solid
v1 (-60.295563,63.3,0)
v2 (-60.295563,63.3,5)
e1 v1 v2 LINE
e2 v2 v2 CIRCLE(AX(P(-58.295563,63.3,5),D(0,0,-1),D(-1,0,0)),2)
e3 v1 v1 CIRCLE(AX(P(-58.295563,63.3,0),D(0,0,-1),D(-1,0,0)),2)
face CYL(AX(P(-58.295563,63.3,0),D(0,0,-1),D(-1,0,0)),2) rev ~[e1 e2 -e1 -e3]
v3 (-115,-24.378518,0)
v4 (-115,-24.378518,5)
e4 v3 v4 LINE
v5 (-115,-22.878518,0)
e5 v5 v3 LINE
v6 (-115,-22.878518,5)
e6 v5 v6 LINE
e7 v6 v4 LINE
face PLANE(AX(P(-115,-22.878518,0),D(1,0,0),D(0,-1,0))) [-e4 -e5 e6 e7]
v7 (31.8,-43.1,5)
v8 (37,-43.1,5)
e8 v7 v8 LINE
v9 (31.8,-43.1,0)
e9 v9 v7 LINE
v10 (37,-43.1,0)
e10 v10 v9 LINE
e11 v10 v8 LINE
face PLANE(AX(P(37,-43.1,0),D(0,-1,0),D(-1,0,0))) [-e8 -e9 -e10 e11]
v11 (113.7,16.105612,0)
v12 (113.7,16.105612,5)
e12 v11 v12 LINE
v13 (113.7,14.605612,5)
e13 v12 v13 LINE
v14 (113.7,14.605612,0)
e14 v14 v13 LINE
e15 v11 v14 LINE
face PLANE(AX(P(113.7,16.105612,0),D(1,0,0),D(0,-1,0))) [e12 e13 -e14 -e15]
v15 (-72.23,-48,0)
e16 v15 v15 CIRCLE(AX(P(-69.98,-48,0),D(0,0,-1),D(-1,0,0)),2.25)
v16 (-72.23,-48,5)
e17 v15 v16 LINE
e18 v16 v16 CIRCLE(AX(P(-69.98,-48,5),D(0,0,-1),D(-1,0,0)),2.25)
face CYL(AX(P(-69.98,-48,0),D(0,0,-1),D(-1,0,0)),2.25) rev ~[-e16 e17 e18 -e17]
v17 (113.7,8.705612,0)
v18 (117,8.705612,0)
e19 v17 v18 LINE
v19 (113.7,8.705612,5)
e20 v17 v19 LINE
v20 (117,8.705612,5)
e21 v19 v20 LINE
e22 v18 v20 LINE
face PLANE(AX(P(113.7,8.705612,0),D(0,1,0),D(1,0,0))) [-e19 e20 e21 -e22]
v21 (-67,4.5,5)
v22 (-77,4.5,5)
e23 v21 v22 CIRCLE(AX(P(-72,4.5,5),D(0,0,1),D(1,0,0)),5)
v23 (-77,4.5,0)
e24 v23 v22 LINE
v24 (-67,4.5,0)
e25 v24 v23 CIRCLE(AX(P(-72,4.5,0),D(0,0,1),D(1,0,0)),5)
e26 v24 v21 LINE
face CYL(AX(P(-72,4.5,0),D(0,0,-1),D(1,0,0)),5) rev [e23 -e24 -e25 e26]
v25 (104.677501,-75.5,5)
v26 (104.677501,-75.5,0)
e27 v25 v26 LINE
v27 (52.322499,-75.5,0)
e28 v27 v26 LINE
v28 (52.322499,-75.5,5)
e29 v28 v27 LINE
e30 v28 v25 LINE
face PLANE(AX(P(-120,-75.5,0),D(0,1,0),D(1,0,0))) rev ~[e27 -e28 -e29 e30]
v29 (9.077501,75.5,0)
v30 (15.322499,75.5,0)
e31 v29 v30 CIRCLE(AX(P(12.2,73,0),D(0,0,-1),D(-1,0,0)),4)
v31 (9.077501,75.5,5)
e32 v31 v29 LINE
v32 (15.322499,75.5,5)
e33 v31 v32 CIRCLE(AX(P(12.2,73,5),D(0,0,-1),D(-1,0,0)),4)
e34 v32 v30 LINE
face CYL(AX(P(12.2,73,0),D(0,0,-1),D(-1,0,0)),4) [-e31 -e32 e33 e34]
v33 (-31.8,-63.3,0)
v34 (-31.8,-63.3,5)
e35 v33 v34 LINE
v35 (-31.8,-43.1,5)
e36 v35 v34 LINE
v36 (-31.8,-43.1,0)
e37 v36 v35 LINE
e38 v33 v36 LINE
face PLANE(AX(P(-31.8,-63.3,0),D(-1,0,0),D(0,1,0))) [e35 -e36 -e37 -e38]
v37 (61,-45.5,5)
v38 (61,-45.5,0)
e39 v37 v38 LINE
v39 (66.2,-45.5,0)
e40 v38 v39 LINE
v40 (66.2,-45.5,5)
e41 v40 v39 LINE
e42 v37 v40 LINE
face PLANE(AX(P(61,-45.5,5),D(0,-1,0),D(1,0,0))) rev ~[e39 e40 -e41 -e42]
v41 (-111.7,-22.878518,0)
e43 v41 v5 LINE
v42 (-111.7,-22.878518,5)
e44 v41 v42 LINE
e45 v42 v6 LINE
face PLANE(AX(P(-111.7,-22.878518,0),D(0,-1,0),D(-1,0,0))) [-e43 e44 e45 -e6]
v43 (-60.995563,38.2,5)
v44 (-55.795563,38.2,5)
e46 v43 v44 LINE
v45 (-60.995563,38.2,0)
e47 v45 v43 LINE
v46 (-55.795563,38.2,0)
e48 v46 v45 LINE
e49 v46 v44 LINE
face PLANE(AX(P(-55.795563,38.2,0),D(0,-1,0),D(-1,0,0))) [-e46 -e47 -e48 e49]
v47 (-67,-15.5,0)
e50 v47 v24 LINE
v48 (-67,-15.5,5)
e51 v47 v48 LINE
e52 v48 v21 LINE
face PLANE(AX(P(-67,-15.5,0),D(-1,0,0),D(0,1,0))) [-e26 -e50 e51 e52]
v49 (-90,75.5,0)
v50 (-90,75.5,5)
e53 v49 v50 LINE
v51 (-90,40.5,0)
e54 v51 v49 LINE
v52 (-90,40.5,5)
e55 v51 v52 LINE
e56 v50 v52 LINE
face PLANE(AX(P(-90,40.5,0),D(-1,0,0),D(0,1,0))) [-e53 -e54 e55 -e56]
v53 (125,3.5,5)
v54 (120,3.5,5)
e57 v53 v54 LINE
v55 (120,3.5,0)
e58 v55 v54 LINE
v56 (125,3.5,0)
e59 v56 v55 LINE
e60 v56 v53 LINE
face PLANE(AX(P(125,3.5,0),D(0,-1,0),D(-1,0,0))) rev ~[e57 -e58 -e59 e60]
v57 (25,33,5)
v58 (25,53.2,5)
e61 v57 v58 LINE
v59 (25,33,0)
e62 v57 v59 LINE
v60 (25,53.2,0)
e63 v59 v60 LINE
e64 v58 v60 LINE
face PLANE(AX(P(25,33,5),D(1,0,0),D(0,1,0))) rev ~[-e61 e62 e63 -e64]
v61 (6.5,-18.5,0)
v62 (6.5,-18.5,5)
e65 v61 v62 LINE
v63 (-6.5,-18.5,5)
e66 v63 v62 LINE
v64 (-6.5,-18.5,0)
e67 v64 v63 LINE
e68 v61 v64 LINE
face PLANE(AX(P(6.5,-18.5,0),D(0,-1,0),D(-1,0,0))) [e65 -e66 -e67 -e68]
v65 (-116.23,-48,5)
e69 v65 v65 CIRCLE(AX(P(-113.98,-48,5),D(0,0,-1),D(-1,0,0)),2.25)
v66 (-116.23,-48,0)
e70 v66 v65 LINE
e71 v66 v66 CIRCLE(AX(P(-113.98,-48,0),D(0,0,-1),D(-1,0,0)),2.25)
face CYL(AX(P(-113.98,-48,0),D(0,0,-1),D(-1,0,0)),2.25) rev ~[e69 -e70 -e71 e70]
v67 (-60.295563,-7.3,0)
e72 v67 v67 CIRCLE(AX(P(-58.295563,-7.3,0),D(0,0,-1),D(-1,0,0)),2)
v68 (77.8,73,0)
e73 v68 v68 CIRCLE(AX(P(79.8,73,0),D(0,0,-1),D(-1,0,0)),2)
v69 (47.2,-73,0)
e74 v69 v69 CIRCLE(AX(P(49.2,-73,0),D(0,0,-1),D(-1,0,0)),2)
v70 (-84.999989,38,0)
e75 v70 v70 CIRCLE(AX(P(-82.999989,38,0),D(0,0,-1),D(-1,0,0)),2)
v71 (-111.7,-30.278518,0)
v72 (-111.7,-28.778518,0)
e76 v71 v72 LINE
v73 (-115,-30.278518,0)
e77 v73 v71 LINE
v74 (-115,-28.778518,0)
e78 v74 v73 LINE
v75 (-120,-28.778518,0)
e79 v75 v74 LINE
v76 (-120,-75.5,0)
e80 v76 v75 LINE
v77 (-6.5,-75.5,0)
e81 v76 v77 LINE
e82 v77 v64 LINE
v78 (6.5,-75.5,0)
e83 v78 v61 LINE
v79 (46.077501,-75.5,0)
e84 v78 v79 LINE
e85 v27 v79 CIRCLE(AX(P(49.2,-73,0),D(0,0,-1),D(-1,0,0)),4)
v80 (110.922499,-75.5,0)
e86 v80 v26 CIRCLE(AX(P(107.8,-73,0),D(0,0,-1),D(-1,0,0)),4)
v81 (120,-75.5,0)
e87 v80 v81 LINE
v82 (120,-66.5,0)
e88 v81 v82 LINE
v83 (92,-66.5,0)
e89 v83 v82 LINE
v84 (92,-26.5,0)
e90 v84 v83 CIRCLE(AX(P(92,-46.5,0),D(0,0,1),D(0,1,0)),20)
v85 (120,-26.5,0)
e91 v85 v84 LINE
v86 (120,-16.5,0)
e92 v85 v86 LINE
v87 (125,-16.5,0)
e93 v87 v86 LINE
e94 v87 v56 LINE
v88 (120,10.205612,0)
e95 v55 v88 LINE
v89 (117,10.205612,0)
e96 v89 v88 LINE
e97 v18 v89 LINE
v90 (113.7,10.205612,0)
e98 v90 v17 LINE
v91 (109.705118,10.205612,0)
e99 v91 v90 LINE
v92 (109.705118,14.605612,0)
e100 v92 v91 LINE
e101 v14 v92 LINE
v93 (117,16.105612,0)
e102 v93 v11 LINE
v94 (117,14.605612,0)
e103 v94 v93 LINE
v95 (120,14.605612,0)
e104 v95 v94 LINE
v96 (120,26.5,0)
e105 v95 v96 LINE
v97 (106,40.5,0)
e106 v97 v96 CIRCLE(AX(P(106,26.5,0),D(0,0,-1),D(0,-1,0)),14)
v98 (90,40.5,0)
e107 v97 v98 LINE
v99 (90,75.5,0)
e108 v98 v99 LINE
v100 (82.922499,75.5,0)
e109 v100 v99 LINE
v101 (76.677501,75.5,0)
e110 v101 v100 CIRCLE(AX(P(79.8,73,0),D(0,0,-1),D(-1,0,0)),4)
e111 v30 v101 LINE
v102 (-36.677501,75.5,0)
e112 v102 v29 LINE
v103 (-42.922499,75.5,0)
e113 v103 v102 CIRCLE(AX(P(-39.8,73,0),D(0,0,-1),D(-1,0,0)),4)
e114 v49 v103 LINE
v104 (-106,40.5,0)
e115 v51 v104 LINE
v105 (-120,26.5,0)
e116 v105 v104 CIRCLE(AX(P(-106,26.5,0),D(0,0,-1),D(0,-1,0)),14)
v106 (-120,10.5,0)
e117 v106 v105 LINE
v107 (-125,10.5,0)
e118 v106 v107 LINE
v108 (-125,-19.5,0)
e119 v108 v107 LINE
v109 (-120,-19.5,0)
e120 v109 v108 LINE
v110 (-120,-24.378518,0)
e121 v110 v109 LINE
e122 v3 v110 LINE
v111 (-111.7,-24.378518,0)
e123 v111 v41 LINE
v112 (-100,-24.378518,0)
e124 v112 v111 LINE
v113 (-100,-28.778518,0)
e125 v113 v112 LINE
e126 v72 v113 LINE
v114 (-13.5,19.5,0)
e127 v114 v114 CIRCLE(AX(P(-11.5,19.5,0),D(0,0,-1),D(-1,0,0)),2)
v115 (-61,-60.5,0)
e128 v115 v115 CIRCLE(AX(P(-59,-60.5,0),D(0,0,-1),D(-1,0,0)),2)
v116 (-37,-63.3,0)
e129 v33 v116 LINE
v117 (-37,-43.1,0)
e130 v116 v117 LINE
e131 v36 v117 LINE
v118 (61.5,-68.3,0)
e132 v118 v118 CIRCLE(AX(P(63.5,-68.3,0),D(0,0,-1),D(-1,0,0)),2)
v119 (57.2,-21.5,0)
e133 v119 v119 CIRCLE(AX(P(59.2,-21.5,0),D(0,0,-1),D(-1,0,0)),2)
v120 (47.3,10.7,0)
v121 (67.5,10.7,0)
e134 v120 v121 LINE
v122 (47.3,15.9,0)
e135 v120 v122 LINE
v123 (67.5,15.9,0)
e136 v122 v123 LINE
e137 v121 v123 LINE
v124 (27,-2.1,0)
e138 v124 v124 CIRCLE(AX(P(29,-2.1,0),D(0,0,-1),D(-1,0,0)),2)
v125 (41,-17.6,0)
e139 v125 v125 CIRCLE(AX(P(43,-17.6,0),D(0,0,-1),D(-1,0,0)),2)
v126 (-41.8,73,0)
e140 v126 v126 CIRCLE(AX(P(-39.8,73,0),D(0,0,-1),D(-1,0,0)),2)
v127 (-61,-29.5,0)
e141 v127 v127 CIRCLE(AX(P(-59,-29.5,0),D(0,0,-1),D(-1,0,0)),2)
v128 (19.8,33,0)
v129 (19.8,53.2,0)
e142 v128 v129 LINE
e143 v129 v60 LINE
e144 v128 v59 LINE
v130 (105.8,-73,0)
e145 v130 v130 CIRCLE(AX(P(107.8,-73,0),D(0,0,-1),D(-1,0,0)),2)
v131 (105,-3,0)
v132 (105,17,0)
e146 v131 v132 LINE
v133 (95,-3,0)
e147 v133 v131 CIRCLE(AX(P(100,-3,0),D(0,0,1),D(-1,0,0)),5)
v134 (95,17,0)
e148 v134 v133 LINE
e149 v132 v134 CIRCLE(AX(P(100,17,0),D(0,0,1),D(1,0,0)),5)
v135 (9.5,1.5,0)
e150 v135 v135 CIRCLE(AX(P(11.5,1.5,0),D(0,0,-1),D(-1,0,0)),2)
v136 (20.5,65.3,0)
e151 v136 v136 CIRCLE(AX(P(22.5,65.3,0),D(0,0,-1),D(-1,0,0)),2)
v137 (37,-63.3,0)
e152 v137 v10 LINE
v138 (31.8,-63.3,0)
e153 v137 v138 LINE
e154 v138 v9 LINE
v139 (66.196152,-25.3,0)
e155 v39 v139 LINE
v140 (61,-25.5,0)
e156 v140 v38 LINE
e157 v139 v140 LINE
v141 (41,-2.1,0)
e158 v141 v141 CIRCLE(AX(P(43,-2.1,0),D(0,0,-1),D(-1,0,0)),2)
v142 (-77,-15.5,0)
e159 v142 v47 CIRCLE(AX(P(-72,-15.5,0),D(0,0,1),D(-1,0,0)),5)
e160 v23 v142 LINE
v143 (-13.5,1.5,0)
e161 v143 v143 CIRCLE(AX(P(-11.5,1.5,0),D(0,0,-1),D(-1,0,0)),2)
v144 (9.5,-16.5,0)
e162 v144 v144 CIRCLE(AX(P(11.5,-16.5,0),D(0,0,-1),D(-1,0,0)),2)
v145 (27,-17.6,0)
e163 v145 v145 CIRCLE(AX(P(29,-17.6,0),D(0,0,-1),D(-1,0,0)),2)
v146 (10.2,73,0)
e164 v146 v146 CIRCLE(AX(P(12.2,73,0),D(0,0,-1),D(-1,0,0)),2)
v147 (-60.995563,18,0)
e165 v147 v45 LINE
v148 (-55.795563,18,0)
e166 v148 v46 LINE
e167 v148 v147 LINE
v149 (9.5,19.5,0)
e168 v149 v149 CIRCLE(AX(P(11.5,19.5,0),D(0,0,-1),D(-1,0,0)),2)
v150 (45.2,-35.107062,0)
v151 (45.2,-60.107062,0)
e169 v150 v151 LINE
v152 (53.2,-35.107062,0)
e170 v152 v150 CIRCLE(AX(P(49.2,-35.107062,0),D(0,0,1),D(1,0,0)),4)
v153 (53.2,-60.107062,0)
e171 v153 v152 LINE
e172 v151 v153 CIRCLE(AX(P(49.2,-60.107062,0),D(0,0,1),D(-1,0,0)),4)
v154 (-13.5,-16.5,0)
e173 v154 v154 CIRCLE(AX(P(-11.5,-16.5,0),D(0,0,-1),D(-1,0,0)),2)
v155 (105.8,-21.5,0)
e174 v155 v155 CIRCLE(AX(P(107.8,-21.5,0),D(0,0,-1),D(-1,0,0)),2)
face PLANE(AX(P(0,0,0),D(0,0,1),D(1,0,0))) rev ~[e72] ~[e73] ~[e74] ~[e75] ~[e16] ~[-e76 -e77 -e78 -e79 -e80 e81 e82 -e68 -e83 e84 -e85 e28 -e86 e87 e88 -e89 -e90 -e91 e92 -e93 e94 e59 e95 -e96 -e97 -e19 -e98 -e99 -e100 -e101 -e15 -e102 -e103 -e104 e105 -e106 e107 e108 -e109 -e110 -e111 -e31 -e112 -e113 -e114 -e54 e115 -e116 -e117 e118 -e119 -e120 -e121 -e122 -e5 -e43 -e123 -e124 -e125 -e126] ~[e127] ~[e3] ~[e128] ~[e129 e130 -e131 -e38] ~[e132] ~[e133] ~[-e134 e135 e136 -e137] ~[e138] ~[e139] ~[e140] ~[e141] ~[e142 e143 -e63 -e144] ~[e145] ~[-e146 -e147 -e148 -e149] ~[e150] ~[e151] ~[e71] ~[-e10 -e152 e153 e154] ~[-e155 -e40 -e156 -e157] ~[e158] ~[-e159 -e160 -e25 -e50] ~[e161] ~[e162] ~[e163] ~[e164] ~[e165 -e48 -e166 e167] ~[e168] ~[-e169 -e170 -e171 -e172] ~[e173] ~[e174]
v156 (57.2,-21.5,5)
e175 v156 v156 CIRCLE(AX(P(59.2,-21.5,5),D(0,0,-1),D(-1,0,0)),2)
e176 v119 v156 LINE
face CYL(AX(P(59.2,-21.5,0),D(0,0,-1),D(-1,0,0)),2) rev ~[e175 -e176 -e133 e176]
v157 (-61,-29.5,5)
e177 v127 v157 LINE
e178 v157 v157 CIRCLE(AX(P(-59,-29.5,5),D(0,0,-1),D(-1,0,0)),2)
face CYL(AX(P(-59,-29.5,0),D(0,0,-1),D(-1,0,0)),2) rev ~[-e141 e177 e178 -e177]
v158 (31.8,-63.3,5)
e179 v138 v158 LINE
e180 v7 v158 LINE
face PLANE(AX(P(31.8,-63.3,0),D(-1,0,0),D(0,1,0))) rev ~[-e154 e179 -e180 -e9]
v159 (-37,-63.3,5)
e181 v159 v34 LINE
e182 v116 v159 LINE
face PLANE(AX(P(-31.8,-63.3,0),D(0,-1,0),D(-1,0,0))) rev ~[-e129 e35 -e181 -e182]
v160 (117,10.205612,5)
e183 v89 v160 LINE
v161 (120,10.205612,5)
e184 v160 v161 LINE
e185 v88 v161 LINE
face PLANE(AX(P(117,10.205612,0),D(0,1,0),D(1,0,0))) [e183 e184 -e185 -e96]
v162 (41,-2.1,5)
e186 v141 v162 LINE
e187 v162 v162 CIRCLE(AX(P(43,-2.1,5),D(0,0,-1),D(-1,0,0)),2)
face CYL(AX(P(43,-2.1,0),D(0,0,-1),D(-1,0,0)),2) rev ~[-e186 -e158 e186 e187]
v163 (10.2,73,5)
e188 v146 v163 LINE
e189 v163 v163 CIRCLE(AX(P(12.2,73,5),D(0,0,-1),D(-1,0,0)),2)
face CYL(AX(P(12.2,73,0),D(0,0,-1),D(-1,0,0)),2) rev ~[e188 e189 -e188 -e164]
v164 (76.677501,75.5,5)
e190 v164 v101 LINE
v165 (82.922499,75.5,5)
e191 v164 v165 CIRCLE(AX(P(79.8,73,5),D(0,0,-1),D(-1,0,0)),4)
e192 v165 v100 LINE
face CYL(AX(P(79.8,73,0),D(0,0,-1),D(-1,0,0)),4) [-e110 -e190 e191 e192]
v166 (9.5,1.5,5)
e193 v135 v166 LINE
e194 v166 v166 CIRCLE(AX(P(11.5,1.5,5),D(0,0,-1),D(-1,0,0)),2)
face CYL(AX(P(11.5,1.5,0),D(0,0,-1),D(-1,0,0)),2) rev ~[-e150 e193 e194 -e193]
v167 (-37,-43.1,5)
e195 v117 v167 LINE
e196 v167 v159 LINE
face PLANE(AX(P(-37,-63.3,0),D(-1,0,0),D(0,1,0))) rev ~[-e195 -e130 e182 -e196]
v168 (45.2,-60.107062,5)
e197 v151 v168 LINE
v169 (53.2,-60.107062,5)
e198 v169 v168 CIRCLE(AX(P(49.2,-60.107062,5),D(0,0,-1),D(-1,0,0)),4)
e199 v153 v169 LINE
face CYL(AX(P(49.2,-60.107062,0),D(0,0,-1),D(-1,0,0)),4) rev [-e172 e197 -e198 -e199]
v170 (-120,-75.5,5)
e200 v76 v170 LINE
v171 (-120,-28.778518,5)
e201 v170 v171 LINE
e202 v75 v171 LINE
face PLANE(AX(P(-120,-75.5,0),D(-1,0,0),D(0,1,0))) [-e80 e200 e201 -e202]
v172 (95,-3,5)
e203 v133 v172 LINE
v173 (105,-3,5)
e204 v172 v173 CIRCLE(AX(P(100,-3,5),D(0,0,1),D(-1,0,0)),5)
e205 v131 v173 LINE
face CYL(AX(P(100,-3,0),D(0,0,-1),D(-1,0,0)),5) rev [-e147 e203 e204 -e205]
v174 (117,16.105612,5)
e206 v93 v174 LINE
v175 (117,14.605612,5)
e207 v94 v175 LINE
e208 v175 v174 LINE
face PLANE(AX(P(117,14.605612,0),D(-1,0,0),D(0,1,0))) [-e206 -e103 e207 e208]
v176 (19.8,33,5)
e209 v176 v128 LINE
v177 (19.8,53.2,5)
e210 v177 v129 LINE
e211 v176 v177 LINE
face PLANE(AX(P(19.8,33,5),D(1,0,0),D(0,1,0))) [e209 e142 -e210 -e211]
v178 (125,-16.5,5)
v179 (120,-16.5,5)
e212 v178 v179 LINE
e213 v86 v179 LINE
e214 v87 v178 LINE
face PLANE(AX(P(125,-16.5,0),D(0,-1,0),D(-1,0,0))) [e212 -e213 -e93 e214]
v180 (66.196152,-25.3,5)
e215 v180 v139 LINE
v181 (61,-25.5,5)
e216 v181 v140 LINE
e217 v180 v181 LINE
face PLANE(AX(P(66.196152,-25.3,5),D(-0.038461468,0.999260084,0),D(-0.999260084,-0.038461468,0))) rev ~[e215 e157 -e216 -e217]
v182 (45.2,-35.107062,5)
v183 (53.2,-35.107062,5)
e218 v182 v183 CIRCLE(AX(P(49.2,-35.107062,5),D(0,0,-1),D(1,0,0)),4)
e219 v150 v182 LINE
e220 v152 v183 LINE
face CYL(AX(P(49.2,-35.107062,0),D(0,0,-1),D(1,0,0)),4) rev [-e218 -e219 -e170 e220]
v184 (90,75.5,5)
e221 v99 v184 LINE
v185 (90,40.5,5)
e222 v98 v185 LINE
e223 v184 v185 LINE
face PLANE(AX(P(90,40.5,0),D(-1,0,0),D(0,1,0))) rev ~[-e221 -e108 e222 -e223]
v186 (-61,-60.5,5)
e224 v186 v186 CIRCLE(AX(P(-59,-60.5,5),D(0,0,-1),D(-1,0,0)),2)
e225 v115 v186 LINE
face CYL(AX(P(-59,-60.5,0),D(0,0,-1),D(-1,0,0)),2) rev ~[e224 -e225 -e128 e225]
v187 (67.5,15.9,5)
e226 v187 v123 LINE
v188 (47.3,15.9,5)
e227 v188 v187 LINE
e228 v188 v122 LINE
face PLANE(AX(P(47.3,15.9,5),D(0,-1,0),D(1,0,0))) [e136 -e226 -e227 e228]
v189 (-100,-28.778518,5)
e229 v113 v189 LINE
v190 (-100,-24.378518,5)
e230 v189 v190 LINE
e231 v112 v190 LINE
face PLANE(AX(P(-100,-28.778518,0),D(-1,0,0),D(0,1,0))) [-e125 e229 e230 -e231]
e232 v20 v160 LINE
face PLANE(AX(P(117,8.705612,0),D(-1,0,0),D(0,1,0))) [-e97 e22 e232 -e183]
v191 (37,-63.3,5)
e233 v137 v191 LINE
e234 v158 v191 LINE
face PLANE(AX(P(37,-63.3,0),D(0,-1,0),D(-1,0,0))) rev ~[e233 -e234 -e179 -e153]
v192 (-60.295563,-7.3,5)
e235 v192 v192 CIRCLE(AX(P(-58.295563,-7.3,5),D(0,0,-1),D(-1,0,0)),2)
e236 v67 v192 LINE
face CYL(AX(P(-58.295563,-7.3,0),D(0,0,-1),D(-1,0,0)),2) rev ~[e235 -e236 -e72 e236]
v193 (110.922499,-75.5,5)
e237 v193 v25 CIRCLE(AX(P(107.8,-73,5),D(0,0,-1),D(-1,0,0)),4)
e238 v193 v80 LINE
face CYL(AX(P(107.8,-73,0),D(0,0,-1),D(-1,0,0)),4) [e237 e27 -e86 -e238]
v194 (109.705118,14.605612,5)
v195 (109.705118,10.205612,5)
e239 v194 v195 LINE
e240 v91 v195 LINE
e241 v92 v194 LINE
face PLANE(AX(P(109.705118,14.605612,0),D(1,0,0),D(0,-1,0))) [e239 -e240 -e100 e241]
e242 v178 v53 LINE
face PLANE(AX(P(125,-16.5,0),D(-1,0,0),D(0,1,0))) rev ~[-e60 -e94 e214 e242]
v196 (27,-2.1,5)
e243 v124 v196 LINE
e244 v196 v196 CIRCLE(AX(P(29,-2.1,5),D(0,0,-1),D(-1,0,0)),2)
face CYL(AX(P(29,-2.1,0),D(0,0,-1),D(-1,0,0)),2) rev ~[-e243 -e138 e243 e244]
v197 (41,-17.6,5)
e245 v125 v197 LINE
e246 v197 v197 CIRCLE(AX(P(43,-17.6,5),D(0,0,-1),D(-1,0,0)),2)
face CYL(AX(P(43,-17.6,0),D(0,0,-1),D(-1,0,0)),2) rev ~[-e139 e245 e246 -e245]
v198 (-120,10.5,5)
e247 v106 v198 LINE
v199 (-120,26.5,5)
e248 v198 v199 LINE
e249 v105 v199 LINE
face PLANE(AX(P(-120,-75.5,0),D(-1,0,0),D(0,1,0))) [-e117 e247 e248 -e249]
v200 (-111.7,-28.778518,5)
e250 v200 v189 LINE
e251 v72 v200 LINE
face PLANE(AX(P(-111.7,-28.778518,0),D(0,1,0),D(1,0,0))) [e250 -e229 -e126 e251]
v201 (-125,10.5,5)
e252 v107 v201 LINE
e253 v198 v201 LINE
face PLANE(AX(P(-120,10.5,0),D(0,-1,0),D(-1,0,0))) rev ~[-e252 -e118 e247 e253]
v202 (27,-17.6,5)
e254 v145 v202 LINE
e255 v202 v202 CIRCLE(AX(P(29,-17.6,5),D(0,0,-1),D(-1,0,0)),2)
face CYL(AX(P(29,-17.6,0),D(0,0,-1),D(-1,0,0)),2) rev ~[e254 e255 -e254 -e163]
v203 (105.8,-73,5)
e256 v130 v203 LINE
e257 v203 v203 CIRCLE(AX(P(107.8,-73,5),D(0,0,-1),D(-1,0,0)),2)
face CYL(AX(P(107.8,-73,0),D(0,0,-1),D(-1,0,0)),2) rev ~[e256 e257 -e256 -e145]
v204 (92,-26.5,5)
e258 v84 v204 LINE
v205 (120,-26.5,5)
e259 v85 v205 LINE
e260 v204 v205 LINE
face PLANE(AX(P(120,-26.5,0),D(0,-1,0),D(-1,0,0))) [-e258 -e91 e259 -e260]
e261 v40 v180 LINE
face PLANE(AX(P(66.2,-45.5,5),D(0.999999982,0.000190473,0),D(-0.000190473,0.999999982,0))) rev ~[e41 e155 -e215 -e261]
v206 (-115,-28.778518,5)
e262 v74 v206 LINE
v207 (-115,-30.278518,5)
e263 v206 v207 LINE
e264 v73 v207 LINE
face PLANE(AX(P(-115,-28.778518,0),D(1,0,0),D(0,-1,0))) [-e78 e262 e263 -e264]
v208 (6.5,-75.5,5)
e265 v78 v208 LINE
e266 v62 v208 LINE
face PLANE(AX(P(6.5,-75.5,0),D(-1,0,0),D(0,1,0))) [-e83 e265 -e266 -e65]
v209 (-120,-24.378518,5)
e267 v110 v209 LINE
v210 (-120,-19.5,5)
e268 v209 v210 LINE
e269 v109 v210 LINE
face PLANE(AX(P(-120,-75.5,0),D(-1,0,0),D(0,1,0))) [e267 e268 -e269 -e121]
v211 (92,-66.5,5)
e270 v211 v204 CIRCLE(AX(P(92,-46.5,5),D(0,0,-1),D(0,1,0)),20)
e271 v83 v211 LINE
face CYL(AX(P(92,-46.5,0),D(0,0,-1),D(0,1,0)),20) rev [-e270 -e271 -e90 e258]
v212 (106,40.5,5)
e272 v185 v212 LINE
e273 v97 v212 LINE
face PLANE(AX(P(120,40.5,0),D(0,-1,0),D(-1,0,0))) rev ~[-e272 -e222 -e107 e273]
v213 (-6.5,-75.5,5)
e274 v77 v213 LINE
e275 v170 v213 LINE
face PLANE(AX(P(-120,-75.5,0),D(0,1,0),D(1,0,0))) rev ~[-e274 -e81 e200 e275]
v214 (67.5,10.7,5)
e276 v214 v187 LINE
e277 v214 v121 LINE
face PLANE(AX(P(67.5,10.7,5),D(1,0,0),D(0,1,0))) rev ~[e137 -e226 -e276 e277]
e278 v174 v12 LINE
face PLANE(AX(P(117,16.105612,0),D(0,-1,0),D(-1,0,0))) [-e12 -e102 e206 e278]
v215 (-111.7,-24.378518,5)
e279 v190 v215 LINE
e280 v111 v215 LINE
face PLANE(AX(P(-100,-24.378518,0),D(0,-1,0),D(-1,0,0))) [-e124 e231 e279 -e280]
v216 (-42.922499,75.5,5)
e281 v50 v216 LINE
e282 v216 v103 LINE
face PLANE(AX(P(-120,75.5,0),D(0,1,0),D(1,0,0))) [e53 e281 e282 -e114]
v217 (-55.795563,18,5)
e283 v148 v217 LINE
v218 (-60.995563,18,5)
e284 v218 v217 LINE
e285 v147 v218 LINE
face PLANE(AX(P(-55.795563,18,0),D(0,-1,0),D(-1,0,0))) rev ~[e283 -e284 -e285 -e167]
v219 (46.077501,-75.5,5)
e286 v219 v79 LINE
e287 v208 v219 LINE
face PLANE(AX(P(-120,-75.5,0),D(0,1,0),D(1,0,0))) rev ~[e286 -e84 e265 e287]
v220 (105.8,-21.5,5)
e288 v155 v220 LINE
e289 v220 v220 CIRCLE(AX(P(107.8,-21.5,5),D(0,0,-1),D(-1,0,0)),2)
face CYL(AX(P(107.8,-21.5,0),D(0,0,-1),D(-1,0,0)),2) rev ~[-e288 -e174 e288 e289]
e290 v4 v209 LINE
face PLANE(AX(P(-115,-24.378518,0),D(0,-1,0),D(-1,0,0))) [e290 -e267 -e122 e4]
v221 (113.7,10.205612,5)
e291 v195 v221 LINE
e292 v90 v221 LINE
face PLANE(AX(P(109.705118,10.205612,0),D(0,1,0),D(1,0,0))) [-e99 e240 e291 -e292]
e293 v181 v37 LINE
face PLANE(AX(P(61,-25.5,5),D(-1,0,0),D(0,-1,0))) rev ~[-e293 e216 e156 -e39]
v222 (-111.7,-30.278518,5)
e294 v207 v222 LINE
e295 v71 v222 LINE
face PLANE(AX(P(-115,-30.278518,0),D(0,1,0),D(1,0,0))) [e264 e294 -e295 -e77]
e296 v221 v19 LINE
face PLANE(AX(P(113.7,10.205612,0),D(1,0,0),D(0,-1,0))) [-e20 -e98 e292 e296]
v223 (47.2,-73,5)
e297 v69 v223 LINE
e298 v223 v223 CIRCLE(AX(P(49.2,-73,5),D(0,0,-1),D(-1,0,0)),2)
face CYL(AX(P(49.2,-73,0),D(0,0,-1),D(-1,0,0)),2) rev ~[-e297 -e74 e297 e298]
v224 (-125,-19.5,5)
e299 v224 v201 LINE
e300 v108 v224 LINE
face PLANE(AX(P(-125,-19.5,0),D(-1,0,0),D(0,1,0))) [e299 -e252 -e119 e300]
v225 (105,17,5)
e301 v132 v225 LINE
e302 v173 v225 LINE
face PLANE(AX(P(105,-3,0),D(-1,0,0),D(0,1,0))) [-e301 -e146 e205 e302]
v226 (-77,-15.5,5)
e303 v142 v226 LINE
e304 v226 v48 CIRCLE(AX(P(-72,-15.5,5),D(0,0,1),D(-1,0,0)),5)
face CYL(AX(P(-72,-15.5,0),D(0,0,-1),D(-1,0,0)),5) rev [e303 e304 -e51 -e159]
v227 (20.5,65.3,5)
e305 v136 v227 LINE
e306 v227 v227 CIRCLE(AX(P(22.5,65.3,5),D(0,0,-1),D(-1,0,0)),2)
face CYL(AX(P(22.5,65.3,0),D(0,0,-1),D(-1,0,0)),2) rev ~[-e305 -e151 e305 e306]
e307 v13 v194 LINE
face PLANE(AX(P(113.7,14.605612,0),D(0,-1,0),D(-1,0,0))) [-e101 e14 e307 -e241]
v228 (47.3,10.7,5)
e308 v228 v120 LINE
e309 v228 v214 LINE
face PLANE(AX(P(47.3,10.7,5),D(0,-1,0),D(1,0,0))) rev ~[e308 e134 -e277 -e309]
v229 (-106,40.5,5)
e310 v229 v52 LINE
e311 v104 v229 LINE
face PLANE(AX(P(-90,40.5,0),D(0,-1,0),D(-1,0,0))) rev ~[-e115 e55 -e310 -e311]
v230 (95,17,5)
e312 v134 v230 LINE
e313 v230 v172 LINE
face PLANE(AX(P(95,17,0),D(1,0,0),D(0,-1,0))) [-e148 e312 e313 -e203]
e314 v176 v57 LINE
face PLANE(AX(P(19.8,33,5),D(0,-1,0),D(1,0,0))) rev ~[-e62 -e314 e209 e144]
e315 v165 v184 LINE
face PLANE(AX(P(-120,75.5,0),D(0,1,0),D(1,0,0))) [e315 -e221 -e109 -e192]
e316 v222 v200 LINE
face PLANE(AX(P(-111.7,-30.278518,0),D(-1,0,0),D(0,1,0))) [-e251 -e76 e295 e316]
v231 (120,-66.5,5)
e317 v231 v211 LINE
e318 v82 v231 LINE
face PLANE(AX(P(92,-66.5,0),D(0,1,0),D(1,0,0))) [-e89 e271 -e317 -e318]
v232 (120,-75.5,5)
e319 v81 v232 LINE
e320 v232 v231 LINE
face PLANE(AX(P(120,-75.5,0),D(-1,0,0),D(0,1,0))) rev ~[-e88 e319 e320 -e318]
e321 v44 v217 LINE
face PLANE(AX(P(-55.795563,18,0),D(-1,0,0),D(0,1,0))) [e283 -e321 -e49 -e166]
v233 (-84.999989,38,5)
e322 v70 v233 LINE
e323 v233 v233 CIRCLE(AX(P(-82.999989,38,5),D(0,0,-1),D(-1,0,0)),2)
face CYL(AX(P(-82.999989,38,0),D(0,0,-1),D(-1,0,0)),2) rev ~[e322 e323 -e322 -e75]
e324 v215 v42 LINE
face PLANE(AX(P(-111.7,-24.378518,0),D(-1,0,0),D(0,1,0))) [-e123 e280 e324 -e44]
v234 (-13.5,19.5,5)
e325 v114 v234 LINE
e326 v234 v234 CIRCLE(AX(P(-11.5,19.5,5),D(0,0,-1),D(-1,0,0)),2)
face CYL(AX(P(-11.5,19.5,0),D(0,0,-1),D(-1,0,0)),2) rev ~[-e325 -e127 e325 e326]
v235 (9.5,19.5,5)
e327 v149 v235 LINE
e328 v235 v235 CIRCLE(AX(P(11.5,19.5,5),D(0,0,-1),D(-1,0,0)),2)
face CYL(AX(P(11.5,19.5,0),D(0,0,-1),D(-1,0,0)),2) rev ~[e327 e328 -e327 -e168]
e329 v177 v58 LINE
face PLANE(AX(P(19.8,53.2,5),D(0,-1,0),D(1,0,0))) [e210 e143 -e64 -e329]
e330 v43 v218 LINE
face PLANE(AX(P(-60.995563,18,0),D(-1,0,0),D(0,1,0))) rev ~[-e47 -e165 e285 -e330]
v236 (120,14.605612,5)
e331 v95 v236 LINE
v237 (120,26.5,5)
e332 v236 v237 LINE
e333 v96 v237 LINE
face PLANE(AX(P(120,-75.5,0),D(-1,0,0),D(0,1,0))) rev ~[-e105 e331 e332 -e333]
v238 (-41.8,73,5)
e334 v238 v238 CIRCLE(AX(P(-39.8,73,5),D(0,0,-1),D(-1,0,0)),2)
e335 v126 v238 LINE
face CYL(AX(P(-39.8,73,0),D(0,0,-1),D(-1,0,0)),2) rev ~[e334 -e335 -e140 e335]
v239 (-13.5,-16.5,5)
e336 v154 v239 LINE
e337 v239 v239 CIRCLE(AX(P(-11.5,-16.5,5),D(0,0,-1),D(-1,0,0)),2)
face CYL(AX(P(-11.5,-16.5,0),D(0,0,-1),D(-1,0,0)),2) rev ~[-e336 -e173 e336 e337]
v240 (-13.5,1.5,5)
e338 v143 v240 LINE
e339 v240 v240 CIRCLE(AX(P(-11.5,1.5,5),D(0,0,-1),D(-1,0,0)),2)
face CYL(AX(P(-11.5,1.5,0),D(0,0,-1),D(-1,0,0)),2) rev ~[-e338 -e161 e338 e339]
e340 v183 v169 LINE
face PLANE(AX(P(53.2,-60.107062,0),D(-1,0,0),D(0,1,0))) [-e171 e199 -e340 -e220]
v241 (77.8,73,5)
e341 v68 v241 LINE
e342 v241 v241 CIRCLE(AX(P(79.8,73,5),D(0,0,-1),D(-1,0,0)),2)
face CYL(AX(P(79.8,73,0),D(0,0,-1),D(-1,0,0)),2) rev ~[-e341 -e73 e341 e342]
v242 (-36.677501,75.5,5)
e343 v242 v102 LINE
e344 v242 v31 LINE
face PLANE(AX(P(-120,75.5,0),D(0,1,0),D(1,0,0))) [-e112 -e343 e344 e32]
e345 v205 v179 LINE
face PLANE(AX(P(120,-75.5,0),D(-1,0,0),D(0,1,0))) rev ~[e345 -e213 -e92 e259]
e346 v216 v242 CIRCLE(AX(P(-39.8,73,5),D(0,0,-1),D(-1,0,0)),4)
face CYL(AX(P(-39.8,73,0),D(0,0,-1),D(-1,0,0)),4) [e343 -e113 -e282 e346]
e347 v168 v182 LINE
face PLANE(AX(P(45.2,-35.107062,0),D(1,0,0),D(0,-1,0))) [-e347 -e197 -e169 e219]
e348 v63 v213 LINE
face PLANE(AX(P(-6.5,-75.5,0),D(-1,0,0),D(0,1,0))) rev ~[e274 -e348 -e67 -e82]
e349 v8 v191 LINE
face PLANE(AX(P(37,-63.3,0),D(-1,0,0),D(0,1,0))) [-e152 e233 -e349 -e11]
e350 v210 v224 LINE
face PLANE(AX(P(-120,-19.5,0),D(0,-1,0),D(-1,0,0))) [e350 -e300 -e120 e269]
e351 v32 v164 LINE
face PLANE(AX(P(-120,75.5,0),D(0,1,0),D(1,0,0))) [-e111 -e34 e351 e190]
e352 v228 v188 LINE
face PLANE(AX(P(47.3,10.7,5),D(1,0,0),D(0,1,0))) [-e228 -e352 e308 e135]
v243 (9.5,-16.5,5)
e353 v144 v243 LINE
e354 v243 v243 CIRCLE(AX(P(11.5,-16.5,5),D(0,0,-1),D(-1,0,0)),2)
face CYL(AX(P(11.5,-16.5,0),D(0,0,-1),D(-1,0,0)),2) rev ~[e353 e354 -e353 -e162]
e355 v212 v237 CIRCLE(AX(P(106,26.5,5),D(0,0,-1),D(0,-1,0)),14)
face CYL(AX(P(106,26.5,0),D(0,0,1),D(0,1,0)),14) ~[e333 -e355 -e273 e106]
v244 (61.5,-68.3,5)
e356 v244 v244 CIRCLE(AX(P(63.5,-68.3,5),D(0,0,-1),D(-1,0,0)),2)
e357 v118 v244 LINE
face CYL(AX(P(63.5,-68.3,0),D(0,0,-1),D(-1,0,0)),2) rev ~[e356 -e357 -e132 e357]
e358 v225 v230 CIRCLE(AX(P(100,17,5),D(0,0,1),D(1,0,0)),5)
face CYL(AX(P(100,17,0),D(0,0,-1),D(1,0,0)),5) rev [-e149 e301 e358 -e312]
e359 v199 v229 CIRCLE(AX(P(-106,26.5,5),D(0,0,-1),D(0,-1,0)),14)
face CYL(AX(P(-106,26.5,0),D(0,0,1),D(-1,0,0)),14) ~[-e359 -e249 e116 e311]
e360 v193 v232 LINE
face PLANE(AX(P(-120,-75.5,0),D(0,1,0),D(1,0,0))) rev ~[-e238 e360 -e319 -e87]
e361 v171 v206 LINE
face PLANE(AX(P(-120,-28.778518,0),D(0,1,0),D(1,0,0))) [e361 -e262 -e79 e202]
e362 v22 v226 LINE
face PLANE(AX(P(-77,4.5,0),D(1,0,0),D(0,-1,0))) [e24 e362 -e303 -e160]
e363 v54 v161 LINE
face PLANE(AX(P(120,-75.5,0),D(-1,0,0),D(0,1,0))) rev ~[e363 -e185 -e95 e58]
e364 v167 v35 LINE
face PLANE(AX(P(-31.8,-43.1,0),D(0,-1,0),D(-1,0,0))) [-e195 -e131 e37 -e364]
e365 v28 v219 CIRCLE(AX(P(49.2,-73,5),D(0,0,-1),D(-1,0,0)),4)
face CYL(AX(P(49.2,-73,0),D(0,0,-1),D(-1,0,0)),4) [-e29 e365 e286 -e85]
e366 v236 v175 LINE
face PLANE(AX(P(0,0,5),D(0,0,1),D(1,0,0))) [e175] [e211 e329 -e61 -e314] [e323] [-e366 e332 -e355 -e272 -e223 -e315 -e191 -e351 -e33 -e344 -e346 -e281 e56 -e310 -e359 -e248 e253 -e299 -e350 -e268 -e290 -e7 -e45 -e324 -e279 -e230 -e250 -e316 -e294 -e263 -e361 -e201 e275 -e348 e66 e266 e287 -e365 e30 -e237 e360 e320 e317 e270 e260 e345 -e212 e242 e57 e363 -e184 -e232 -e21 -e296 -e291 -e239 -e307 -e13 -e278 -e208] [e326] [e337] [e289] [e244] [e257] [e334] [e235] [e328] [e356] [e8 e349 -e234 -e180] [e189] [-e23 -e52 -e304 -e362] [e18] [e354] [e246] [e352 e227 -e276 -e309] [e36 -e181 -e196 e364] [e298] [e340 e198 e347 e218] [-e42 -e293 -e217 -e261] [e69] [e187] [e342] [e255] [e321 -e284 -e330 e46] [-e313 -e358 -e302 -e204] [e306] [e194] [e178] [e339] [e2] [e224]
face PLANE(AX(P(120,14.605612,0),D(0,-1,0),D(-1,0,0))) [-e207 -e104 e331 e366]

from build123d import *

# Parameters (mm, degrees)
SKETCH1_W           = 240
SKETCH1_H           = 151
BOSS_EXTRUDE1_DEPTH = 5
SKETCH3_W           = 13
SKETCH3_H           = 57
CUT_EXTRUDE2_DEPTH  = 10
SKETCH5_W           = 5.2
SKETCH5_H           = 20.2
CUT_EXTRUDE4_DEPTH  = 10
SKETCH6_R           = 2
CUT_EXTRUDE5_DEPTH  = 10
SKETCH7_R           = 2
CUT_EXTRUDE6_DEPTH  = 10
CUT_EXTRUDE7_DEPTH  = 10
SKETCH9_R           = 2
CUT_EXTRUDE8_DEPTH  = 10
SKETCH10_R          = 4
SKETCH10_R_2        = 2
BOSS_EXTRUDE2_DEPTH = 5
CUT_EXTRUDE10_DEPTH = 10
SKETCH13_W          = 30
SKETCH13_H          = 35
CUT_EXTRUDE11_DEPTH = 10
SKETCH16_R          = 2
CUT_EXTRUDE13_DEPTH = 5
CUT_EXTRUDE14_DEPTH = 5
CUT_EXTRUDE15_DEPTH = 5
SKETCH20_W          = 5.2
SKETCH20_H          = 20.2
CUT_EXTRUDE17_DEPTH = 10
SKETCH21_R          = 2
CUT_EXTRUDE18_DEPTH = 10
CUT_EXTRUDE20_DEPTH = 5
SKETCH25_R          = 2
CUT_EXTRUDE21_DEPTH = 5
SKETCH26_R          = 2
CUT_EXTRUDE22_DEPTH = 10
SKETCH27_R          = 4
SKETCH27_R_2        = 2
BOSS_EXTRUDE4_DEPTH = 5
FILLET1_R           = 14
SKETCH28_W          = 5.2
SKETCH28_H          = 20.2
CUT_EXTRUDE23_DEPTH = 5
SKETCH29_W          = 20.2
SKETCH29_H          = 5.2
CUT_EXTRUDE24_DEPTH = 5
SKETCH30_R          = 2
CUT_EXTRUDE25_DEPTH = 5
SKETCH31_R          = 4
SKETCH31_R_2        = 2
BOSS_EXTRUDE5_DEPTH = 5
SKETCH32_R          = 2
CUT_EXTRUDE26_DEPTH = 5
SKETCH33_W          = 5
SKETCH33_H          = 30
SKETCH33_H_2        = 20
BOSS_EXTRUDE6_DEPTH = 5
SKETCH34_R          = 2.25
CUT_EXTRUDE27_DEPTH = 5
CUT_EXTRUDE28_DEPTH = 5
SKETCH36_R          = 2
CUT_EXTRUDE29_DEPTH = 5


with BuildPart() as part:
    # Sketch1 → Boss-Extrude1 (new body)
    with BuildSketch(Plane.XY):
        Rectangle(SKETCH1_W, SKETCH1_H)
    extrude(amount=BOSS_EXTRUDE1_DEPTH)

    # Sketch3 → Cut-Extrude2 (cut)
    with BuildSketch(Plane(origin=(0, 0, 0), x_dir=(-1, 0, 0), z_dir=(0, 0, -1))):
        with Locations((0, -47)):
            Rectangle(SKETCH3_W, SKETCH3_H)
    extrude(amount=-CUT_EXTRUDE2_DEPTH, mode=Mode.SUBTRACT)

    # Sketch5 → Cut-Extrude4 (cut)
    with BuildSketch(Plane(origin=(0, 0, 0), x_dir=(-1, 0, 0), z_dir=(0, 0, -1))):
        with Locations((-34.4, -53.2)):
            Rectangle(SKETCH5_W, SKETCH5_H)
        with Locations((34.4, -53.2)):
            Rectangle(SKETCH5_W, SKETCH5_H)
    extrude(amount=-CUT_EXTRUDE4_DEPTH, mode=Mode.SUBTRACT)

    # Sketch6 → Cut-Extrude5 (cut)
    with BuildSketch(Plane(origin=(0, 0, 0), x_dir=(-1, 0, 0), z_dir=(0, 0, -1))):
        with Locations((11.5, 19.5)):
            Circle(SKETCH6_R)
        with Locations((11.5, 1.5)):
            Circle(SKETCH6_R)
        with Locations((11.5, -16.5)):
            Circle(SKETCH6_R)
        with Locations((-11.5, -16.5)):
            Circle(SKETCH6_R)
        with Locations((-11.5, 1.5)):
            Circle(SKETCH6_R)
        with Locations((-11.5, 19.5)):
            Circle(SKETCH6_R)
    extrude(amount=-CUT_EXTRUDE5_DEPTH, mode=Mode.SUBTRACT)

    # Sketch7 → Cut-Extrude6 (cut)
    with BuildSketch(Plane(origin=(0, 0, 0), x_dir=(-1, 0, 0), z_dir=(0, 0, -1))):
        with Locations((-43, -2.1)):
            Circle(SKETCH7_R)
        with Locations((-43, -17.6)):
            Circle(SKETCH7_R)
        with Locations((-29, -17.6)):
            Circle(SKETCH7_R)
        with Locations((-29, -2.1)):
            Circle(SKETCH7_R)
    extrude(amount=-CUT_EXTRUDE6_DEPTH, mode=Mode.SUBTRACT)

    # Sketch8 → Cut-Extrude7 (cut)
    with BuildSketch(Plane(origin=(0, 0, 0), x_dir=(-1, 0, 0), z_dir=(0, 0, -1))):
        with BuildLine():
            Line((-120, -26.5), (-92, -26.5))
            ThreePointArc((-92, -26.5), (-72, -46.5), (-92, -66.5))
            Line((-92, -66.5), (-120, -66.5))
            Line((-120, -66.5), (-120, -26.5))
        make_face()
    extrude(amount=-CUT_EXTRUDE7_DEPTH, mode=Mode.SUBTRACT)

    # Sketch9 → Cut-Extrude8 (cut)
    with BuildSketch(Plane(origin=(0, 0, 0), x_dir=(-1, 0, 0), z_dir=(0, 0, -1))):
        with Locations((-59.2, -21.5)):
            Circle(SKETCH9_R)
        with Locations((-107.8, -21.5)):
            Circle(SKETCH9_R)
        with Locations((-49.2, -73)):
            Circle(SKETCH9_R)
        with Locations((-107.8, -73)):
            Circle(SKETCH9_R)
    extrude(amount=-CUT_EXTRUDE8_DEPTH, mode=Mode.SUBTRACT)

    # Sketch10 → Boss-Extrude2 (add)
    with BuildSketch(Plane(origin=(0, 0, 0), x_dir=(-1, 0, 0), z_dir=(0, 0, -1))):
        with Locations((-107.8, -73)):
            Circle(SKETCH10_R)
        with Locations((-107.8, -73)):
            Circle(SKETCH10_R_2, mode=Mode.SUBTRACT)
        with Locations((-49.2, -73)):
            Circle(SKETCH10_R)
        with Locations((-49.2, -73)):
            Circle(SKETCH10_R_2, mode=Mode.SUBTRACT)
    extrude(amount=-BOSS_EXTRUDE2_DEPTH)

    # Sketch12 → Cut-Extrude10 (cut)
    with BuildSketch(Plane(origin=(0, 0, 0), x_dir=(-1, 0, 0), z_dir=(0, 0, -1))):
        with BuildLine():
            Line((-45.2, -35.107061825), (-45.2, -60.107061825))
            ThreePointArc((-45.2, -60.107061825), (-49.2, -64.107061825), (-53.2, -60.107061825))
            Line((-53.2, -60.107061825), (-53.2, -35.107061825))
            ThreePointArc((-53.2, -35.107061825), (-49.2, -31.107061825), (-45.2, -35.107061825))
        make_face()
    extrude(amount=-CUT_EXTRUDE10_DEPTH, mode=Mode.SUBTRACT)

    # Sketch13 → Cut-Extrude11 (cut)
    with BuildSketch(Plane(origin=(0, 0, 0), x_dir=(-1, 0, 0), z_dir=(0, 0, -1))):
        with Locations((-105, 58)):
            Rectangle(SKETCH13_W, SKETCH13_H)
        with Locations((105, 58)):
            Rectangle(SKETCH13_W, SKETCH13_H)
    extrude(amount=-CUT_EXTRUDE11_DEPTH, mode=Mode.SUBTRACT)

    # Sketch16 → Cut-Extrude13 (cut)
    with BuildSketch(Plane(origin=(0, 0, 0), x_dir=(-1, 0, 0), z_dir=(0, 0, -1))):
        with Locations((59, -29.5)):
            Circle(SKETCH16_R)
        with Locations((59, -60.5)):
            Circle(SKETCH16_R)
    extrude(amount=-CUT_EXTRUDE13_DEPTH, mode=Mode.SUBTRACT)

    # Sketch17 → Cut-Extrude14 (cut)
    with BuildSketch(Plane(origin=(0, 0, 0), x_dir=(-1, 0, 0), z_dir=(0, 0, -1))):
        with BuildLine():
            Line((-95, 17), (-95, -3))
            ThreePointArc((-95, -3), (-100, -8), (-105, -3))
            Line((-105, -3), (-105, 17))
            ThreePointArc((-105, 17), (-100, 22), (-95, 17))
        make_face()
    extrude(amount=-CUT_EXTRUDE14_DEPTH, mode=Mode.SUBTRACT)

    # Sketch18 → Cut-Extrude15 (cut)
    with BuildSketch(Plane(origin=(0, 0, 0), x_dir=(-1, 0, 0), z_dir=(0, 0, -1))):
        with BuildLine():
            Line((67, -15.5), (67, 4.5))
            ThreePointArc((67, 4.5), (72, 9.5), (77, 4.5))
            Line((77, 4.5), (77, -15.5))
            ThreePointArc((77, -15.5), (72, -20.5), (67, -15.5))
        make_face()
    extrude(amount=-CUT_EXTRUDE15_DEPTH, mode=Mode.SUBTRACT)

    # Sketch20 → Cut-Extrude17 (cut)
    with BuildSketch(Plane(origin=(0, 0, 0), x_dir=(-1, 0, 0), z_dir=(0, 0, -1))):
        with Locations((58.395562695, 28.1)):
            Rectangle(SKETCH20_W, SKETCH20_H)
    extrude(amount=-CUT_EXTRUDE17_DEPTH, mode=Mode.SUBTRACT)

    # Sketch21 → Cut-Extrude18 (cut)
    with BuildSketch(Plane(origin=(0, 0, 0), x_dir=(-1, 0, 0), z_dir=(0, 0, -1))):
        with Locations((58.295562695, -7.3)):
            Circle(SKETCH21_R)
        with Locations((58.295562695, 63.3)):
            Circle(SKETCH21_R)
    extrude(amount=-CUT_EXTRUDE18_DEPTH, mode=Mode.SUBTRACT)

    # Sketch24 → Cut-Extrude20 (cut)
    with BuildSketch(Plane.XY.offset(5)):
        Polygon((66.2, -45.5), (66.196152437, -25.300000366), (61, -25.5), (61, -45.5), align=None)
    extrude(amount=-CUT_EXTRUDE20_DEPTH, mode=Mode.SUBTRACT)

    # Sketch25 → Cut-Extrude21 (cut)
    with BuildSketch(Plane(origin=(0, 0, 0), x_dir=(-1, 0, 0), z_dir=(0, 0, -1))):
        with Locations((-63.5, -68.3)):
            Circle(SKETCH25_R)
    extrude(amount=-CUT_EXTRUDE21_DEPTH, mode=Mode.SUBTRACT)

    # Sketch26 → Cut-Extrude22 (cut)
    with BuildSketch(Plane(origin=(0, 0, 0), x_dir=(-1, 0, 0), z_dir=(0, 0, -1))):
        with Locations((39.8, 73)):
            Circle(SKETCH26_R)
        with Locations((-12.2, 73)):
            Circle(SKETCH26_R)
    extrude(amount=-CUT_EXTRUDE22_DEPTH, mode=Mode.SUBTRACT)

    # Sketch27 → Boss-Extrude4 (add)
    with BuildSketch(Plane(origin=(0, 0, 0), x_dir=(-1, 0, 0), z_dir=(0, 0, -1))):
        with Locations((39.8, 73)):
            Circle(SKETCH27_R)
        with Locations((39.8, 73)):
            Circle(SKETCH27_R_2, mode=Mode.SUBTRACT)
        with Locations((-12.2, 73)):
            Circle(SKETCH27_R)
        with Locations((-12.2, 73)):
            Circle(SKETCH27_R_2, mode=Mode.SUBTRACT)
    extrude(amount=-BOSS_EXTRUDE4_DEPTH)

    # Fillet1
    fillet1_edges = [part.edges().sort_by_distance(p)[0] for p in [
        (120, 40.5, 2.5),
        (-120, 40.5, 2.5),
    ]]
    fillet(fillet1_edges, radius=FILLET1_R)

    # Sketch28 → Cut-Extrude23 (cut)
    with BuildSketch(Plane.XY.offset(5)):
        with Locations((22.4, 43.1)):
            Rectangle(SKETCH28_W, SKETCH28_H)
    extrude(amount=-CUT_EXTRUDE23_DEPTH, mode=Mode.SUBTRACT)

    # Sketch29 → Cut-Extrude24 (cut)
    with BuildSketch(Plane.XY.offset(5)):
        with Locations((57.4, 13.3)):
            Rectangle(SKETCH29_W, SKETCH29_H)
    extrude(amount=-CUT_EXTRUDE24_DEPTH, mode=Mode.SUBTRACT)

    # Sketch30 → Cut-Extrude25 (cut)
    with BuildSketch(Plane(origin=(0, 0, 0), x_dir=(-1, 0, 0), z_dir=(0, 0, -1))):
        with Locations((-79.8, 73)):
            Circle(SKETCH30_R)
    extrude(amount=-CUT_EXTRUDE25_DEPTH, mode=Mode.SUBTRACT)

    # Sketch31 → Boss-Extrude5 (add)
    with BuildSketch(Plane(origin=(0, 0, 0), x_dir=(-1, 0, 0), z_dir=(0, 0, -1))):
        with Locations((-79.8, 73)):
            Circle(SKETCH31_R)
        with Locations((-79.8, 73)):
            Circle(SKETCH31_R_2, mode=Mode.SUBTRACT)
    extrude(amount=-BOSS_EXTRUDE5_DEPTH)

    # Sketch32 → Cut-Extrude26 (cut)
    with BuildSketch(Plane(origin=(0, 0, 0), x_dir=(-1, 0, 0), z_dir=(0, 0, -1))):
        with Locations((82.999989356, 38)):
            Circle(SKETCH32_R)
    extrude(amount=-CUT_EXTRUDE26_DEPTH, mode=Mode.SUBTRACT)

    # Sketch33 → Boss-Extrude6 (add)
    with BuildSketch(Plane(origin=(0, 0, 0), x_dir=(-1, 0, 0), z_dir=(0, 0, -1))):
        with Locations((122.5, -4.5)):
            Rectangle(SKETCH33_W, SKETCH33_H)
        with Locations((-122.5, -6.5)):
            Rectangle(SKETCH33_W, SKETCH33_H_2)
    extrude(amount=-BOSS_EXTRUDE6_DEPTH)

    # Sketch34 → Cut-Extrude27 (cut)
    with BuildSketch(Plane(origin=(0, 0, 0), x_dir=(-1, 0, 0), z_dir=(0, 0, -1))):
        with Locations((113.98, -48)):
            Circle(SKETCH34_R)
        with Locations((69.98, -48)):
            Circle(SKETCH34_R)
    extrude(amount=-CUT_EXTRUDE27_DEPTH, mode=Mode.SUBTRACT)

    # Sketch35 → Cut-Extrude28 (cut)
    with BuildSketch(Plane(origin=(0, 0, 0), x_dir=(-1, 0, 0), z_dir=(0, 0, -1))):
        Polygon((-120, 14.605611853), (-117, 14.605611853), (-117, 16.105611853), (-113.7, 16.105611853), (-113.7, 14.605611853), (-109.705118332, 14.605611853), (-109.705118332, 10.205611853), (-113.7, 10.205611853), (-113.7, 8.705611853), (-117, 8.705611853), (-117, 10.205611853), (-120, 10.205611853), align=None)
        Polygon((100, -24.37851787), (111.7, -24.37851787), (111.7, -22.87851787), (115, -22.87851787), (115, -24.37851787), (120, -24.37851787), (120, -28.77851787), (115, -28.77851787), (115, -30.27851787), (111.7, -30.27851787), (111.7, -28.77851787), (100, -28.77851787), align=None)
    extrude(amount=-CUT_EXTRUDE28_DEPTH, mode=Mode.SUBTRACT)

    # Sketch36 → Cut-Extrude29 (cut)
    with BuildSketch(Plane(origin=(0, 0, 0), x_dir=(-1, 0, 0), z_dir=(0, 0, -1))):
        with Locations((-22.5, 65.3)):
            Circle(SKETCH36_R)
    extrude(amount=-CUT_EXTRUDE29_DEPTH, mode=Mode.SUBTRACT)


solid = part.part
